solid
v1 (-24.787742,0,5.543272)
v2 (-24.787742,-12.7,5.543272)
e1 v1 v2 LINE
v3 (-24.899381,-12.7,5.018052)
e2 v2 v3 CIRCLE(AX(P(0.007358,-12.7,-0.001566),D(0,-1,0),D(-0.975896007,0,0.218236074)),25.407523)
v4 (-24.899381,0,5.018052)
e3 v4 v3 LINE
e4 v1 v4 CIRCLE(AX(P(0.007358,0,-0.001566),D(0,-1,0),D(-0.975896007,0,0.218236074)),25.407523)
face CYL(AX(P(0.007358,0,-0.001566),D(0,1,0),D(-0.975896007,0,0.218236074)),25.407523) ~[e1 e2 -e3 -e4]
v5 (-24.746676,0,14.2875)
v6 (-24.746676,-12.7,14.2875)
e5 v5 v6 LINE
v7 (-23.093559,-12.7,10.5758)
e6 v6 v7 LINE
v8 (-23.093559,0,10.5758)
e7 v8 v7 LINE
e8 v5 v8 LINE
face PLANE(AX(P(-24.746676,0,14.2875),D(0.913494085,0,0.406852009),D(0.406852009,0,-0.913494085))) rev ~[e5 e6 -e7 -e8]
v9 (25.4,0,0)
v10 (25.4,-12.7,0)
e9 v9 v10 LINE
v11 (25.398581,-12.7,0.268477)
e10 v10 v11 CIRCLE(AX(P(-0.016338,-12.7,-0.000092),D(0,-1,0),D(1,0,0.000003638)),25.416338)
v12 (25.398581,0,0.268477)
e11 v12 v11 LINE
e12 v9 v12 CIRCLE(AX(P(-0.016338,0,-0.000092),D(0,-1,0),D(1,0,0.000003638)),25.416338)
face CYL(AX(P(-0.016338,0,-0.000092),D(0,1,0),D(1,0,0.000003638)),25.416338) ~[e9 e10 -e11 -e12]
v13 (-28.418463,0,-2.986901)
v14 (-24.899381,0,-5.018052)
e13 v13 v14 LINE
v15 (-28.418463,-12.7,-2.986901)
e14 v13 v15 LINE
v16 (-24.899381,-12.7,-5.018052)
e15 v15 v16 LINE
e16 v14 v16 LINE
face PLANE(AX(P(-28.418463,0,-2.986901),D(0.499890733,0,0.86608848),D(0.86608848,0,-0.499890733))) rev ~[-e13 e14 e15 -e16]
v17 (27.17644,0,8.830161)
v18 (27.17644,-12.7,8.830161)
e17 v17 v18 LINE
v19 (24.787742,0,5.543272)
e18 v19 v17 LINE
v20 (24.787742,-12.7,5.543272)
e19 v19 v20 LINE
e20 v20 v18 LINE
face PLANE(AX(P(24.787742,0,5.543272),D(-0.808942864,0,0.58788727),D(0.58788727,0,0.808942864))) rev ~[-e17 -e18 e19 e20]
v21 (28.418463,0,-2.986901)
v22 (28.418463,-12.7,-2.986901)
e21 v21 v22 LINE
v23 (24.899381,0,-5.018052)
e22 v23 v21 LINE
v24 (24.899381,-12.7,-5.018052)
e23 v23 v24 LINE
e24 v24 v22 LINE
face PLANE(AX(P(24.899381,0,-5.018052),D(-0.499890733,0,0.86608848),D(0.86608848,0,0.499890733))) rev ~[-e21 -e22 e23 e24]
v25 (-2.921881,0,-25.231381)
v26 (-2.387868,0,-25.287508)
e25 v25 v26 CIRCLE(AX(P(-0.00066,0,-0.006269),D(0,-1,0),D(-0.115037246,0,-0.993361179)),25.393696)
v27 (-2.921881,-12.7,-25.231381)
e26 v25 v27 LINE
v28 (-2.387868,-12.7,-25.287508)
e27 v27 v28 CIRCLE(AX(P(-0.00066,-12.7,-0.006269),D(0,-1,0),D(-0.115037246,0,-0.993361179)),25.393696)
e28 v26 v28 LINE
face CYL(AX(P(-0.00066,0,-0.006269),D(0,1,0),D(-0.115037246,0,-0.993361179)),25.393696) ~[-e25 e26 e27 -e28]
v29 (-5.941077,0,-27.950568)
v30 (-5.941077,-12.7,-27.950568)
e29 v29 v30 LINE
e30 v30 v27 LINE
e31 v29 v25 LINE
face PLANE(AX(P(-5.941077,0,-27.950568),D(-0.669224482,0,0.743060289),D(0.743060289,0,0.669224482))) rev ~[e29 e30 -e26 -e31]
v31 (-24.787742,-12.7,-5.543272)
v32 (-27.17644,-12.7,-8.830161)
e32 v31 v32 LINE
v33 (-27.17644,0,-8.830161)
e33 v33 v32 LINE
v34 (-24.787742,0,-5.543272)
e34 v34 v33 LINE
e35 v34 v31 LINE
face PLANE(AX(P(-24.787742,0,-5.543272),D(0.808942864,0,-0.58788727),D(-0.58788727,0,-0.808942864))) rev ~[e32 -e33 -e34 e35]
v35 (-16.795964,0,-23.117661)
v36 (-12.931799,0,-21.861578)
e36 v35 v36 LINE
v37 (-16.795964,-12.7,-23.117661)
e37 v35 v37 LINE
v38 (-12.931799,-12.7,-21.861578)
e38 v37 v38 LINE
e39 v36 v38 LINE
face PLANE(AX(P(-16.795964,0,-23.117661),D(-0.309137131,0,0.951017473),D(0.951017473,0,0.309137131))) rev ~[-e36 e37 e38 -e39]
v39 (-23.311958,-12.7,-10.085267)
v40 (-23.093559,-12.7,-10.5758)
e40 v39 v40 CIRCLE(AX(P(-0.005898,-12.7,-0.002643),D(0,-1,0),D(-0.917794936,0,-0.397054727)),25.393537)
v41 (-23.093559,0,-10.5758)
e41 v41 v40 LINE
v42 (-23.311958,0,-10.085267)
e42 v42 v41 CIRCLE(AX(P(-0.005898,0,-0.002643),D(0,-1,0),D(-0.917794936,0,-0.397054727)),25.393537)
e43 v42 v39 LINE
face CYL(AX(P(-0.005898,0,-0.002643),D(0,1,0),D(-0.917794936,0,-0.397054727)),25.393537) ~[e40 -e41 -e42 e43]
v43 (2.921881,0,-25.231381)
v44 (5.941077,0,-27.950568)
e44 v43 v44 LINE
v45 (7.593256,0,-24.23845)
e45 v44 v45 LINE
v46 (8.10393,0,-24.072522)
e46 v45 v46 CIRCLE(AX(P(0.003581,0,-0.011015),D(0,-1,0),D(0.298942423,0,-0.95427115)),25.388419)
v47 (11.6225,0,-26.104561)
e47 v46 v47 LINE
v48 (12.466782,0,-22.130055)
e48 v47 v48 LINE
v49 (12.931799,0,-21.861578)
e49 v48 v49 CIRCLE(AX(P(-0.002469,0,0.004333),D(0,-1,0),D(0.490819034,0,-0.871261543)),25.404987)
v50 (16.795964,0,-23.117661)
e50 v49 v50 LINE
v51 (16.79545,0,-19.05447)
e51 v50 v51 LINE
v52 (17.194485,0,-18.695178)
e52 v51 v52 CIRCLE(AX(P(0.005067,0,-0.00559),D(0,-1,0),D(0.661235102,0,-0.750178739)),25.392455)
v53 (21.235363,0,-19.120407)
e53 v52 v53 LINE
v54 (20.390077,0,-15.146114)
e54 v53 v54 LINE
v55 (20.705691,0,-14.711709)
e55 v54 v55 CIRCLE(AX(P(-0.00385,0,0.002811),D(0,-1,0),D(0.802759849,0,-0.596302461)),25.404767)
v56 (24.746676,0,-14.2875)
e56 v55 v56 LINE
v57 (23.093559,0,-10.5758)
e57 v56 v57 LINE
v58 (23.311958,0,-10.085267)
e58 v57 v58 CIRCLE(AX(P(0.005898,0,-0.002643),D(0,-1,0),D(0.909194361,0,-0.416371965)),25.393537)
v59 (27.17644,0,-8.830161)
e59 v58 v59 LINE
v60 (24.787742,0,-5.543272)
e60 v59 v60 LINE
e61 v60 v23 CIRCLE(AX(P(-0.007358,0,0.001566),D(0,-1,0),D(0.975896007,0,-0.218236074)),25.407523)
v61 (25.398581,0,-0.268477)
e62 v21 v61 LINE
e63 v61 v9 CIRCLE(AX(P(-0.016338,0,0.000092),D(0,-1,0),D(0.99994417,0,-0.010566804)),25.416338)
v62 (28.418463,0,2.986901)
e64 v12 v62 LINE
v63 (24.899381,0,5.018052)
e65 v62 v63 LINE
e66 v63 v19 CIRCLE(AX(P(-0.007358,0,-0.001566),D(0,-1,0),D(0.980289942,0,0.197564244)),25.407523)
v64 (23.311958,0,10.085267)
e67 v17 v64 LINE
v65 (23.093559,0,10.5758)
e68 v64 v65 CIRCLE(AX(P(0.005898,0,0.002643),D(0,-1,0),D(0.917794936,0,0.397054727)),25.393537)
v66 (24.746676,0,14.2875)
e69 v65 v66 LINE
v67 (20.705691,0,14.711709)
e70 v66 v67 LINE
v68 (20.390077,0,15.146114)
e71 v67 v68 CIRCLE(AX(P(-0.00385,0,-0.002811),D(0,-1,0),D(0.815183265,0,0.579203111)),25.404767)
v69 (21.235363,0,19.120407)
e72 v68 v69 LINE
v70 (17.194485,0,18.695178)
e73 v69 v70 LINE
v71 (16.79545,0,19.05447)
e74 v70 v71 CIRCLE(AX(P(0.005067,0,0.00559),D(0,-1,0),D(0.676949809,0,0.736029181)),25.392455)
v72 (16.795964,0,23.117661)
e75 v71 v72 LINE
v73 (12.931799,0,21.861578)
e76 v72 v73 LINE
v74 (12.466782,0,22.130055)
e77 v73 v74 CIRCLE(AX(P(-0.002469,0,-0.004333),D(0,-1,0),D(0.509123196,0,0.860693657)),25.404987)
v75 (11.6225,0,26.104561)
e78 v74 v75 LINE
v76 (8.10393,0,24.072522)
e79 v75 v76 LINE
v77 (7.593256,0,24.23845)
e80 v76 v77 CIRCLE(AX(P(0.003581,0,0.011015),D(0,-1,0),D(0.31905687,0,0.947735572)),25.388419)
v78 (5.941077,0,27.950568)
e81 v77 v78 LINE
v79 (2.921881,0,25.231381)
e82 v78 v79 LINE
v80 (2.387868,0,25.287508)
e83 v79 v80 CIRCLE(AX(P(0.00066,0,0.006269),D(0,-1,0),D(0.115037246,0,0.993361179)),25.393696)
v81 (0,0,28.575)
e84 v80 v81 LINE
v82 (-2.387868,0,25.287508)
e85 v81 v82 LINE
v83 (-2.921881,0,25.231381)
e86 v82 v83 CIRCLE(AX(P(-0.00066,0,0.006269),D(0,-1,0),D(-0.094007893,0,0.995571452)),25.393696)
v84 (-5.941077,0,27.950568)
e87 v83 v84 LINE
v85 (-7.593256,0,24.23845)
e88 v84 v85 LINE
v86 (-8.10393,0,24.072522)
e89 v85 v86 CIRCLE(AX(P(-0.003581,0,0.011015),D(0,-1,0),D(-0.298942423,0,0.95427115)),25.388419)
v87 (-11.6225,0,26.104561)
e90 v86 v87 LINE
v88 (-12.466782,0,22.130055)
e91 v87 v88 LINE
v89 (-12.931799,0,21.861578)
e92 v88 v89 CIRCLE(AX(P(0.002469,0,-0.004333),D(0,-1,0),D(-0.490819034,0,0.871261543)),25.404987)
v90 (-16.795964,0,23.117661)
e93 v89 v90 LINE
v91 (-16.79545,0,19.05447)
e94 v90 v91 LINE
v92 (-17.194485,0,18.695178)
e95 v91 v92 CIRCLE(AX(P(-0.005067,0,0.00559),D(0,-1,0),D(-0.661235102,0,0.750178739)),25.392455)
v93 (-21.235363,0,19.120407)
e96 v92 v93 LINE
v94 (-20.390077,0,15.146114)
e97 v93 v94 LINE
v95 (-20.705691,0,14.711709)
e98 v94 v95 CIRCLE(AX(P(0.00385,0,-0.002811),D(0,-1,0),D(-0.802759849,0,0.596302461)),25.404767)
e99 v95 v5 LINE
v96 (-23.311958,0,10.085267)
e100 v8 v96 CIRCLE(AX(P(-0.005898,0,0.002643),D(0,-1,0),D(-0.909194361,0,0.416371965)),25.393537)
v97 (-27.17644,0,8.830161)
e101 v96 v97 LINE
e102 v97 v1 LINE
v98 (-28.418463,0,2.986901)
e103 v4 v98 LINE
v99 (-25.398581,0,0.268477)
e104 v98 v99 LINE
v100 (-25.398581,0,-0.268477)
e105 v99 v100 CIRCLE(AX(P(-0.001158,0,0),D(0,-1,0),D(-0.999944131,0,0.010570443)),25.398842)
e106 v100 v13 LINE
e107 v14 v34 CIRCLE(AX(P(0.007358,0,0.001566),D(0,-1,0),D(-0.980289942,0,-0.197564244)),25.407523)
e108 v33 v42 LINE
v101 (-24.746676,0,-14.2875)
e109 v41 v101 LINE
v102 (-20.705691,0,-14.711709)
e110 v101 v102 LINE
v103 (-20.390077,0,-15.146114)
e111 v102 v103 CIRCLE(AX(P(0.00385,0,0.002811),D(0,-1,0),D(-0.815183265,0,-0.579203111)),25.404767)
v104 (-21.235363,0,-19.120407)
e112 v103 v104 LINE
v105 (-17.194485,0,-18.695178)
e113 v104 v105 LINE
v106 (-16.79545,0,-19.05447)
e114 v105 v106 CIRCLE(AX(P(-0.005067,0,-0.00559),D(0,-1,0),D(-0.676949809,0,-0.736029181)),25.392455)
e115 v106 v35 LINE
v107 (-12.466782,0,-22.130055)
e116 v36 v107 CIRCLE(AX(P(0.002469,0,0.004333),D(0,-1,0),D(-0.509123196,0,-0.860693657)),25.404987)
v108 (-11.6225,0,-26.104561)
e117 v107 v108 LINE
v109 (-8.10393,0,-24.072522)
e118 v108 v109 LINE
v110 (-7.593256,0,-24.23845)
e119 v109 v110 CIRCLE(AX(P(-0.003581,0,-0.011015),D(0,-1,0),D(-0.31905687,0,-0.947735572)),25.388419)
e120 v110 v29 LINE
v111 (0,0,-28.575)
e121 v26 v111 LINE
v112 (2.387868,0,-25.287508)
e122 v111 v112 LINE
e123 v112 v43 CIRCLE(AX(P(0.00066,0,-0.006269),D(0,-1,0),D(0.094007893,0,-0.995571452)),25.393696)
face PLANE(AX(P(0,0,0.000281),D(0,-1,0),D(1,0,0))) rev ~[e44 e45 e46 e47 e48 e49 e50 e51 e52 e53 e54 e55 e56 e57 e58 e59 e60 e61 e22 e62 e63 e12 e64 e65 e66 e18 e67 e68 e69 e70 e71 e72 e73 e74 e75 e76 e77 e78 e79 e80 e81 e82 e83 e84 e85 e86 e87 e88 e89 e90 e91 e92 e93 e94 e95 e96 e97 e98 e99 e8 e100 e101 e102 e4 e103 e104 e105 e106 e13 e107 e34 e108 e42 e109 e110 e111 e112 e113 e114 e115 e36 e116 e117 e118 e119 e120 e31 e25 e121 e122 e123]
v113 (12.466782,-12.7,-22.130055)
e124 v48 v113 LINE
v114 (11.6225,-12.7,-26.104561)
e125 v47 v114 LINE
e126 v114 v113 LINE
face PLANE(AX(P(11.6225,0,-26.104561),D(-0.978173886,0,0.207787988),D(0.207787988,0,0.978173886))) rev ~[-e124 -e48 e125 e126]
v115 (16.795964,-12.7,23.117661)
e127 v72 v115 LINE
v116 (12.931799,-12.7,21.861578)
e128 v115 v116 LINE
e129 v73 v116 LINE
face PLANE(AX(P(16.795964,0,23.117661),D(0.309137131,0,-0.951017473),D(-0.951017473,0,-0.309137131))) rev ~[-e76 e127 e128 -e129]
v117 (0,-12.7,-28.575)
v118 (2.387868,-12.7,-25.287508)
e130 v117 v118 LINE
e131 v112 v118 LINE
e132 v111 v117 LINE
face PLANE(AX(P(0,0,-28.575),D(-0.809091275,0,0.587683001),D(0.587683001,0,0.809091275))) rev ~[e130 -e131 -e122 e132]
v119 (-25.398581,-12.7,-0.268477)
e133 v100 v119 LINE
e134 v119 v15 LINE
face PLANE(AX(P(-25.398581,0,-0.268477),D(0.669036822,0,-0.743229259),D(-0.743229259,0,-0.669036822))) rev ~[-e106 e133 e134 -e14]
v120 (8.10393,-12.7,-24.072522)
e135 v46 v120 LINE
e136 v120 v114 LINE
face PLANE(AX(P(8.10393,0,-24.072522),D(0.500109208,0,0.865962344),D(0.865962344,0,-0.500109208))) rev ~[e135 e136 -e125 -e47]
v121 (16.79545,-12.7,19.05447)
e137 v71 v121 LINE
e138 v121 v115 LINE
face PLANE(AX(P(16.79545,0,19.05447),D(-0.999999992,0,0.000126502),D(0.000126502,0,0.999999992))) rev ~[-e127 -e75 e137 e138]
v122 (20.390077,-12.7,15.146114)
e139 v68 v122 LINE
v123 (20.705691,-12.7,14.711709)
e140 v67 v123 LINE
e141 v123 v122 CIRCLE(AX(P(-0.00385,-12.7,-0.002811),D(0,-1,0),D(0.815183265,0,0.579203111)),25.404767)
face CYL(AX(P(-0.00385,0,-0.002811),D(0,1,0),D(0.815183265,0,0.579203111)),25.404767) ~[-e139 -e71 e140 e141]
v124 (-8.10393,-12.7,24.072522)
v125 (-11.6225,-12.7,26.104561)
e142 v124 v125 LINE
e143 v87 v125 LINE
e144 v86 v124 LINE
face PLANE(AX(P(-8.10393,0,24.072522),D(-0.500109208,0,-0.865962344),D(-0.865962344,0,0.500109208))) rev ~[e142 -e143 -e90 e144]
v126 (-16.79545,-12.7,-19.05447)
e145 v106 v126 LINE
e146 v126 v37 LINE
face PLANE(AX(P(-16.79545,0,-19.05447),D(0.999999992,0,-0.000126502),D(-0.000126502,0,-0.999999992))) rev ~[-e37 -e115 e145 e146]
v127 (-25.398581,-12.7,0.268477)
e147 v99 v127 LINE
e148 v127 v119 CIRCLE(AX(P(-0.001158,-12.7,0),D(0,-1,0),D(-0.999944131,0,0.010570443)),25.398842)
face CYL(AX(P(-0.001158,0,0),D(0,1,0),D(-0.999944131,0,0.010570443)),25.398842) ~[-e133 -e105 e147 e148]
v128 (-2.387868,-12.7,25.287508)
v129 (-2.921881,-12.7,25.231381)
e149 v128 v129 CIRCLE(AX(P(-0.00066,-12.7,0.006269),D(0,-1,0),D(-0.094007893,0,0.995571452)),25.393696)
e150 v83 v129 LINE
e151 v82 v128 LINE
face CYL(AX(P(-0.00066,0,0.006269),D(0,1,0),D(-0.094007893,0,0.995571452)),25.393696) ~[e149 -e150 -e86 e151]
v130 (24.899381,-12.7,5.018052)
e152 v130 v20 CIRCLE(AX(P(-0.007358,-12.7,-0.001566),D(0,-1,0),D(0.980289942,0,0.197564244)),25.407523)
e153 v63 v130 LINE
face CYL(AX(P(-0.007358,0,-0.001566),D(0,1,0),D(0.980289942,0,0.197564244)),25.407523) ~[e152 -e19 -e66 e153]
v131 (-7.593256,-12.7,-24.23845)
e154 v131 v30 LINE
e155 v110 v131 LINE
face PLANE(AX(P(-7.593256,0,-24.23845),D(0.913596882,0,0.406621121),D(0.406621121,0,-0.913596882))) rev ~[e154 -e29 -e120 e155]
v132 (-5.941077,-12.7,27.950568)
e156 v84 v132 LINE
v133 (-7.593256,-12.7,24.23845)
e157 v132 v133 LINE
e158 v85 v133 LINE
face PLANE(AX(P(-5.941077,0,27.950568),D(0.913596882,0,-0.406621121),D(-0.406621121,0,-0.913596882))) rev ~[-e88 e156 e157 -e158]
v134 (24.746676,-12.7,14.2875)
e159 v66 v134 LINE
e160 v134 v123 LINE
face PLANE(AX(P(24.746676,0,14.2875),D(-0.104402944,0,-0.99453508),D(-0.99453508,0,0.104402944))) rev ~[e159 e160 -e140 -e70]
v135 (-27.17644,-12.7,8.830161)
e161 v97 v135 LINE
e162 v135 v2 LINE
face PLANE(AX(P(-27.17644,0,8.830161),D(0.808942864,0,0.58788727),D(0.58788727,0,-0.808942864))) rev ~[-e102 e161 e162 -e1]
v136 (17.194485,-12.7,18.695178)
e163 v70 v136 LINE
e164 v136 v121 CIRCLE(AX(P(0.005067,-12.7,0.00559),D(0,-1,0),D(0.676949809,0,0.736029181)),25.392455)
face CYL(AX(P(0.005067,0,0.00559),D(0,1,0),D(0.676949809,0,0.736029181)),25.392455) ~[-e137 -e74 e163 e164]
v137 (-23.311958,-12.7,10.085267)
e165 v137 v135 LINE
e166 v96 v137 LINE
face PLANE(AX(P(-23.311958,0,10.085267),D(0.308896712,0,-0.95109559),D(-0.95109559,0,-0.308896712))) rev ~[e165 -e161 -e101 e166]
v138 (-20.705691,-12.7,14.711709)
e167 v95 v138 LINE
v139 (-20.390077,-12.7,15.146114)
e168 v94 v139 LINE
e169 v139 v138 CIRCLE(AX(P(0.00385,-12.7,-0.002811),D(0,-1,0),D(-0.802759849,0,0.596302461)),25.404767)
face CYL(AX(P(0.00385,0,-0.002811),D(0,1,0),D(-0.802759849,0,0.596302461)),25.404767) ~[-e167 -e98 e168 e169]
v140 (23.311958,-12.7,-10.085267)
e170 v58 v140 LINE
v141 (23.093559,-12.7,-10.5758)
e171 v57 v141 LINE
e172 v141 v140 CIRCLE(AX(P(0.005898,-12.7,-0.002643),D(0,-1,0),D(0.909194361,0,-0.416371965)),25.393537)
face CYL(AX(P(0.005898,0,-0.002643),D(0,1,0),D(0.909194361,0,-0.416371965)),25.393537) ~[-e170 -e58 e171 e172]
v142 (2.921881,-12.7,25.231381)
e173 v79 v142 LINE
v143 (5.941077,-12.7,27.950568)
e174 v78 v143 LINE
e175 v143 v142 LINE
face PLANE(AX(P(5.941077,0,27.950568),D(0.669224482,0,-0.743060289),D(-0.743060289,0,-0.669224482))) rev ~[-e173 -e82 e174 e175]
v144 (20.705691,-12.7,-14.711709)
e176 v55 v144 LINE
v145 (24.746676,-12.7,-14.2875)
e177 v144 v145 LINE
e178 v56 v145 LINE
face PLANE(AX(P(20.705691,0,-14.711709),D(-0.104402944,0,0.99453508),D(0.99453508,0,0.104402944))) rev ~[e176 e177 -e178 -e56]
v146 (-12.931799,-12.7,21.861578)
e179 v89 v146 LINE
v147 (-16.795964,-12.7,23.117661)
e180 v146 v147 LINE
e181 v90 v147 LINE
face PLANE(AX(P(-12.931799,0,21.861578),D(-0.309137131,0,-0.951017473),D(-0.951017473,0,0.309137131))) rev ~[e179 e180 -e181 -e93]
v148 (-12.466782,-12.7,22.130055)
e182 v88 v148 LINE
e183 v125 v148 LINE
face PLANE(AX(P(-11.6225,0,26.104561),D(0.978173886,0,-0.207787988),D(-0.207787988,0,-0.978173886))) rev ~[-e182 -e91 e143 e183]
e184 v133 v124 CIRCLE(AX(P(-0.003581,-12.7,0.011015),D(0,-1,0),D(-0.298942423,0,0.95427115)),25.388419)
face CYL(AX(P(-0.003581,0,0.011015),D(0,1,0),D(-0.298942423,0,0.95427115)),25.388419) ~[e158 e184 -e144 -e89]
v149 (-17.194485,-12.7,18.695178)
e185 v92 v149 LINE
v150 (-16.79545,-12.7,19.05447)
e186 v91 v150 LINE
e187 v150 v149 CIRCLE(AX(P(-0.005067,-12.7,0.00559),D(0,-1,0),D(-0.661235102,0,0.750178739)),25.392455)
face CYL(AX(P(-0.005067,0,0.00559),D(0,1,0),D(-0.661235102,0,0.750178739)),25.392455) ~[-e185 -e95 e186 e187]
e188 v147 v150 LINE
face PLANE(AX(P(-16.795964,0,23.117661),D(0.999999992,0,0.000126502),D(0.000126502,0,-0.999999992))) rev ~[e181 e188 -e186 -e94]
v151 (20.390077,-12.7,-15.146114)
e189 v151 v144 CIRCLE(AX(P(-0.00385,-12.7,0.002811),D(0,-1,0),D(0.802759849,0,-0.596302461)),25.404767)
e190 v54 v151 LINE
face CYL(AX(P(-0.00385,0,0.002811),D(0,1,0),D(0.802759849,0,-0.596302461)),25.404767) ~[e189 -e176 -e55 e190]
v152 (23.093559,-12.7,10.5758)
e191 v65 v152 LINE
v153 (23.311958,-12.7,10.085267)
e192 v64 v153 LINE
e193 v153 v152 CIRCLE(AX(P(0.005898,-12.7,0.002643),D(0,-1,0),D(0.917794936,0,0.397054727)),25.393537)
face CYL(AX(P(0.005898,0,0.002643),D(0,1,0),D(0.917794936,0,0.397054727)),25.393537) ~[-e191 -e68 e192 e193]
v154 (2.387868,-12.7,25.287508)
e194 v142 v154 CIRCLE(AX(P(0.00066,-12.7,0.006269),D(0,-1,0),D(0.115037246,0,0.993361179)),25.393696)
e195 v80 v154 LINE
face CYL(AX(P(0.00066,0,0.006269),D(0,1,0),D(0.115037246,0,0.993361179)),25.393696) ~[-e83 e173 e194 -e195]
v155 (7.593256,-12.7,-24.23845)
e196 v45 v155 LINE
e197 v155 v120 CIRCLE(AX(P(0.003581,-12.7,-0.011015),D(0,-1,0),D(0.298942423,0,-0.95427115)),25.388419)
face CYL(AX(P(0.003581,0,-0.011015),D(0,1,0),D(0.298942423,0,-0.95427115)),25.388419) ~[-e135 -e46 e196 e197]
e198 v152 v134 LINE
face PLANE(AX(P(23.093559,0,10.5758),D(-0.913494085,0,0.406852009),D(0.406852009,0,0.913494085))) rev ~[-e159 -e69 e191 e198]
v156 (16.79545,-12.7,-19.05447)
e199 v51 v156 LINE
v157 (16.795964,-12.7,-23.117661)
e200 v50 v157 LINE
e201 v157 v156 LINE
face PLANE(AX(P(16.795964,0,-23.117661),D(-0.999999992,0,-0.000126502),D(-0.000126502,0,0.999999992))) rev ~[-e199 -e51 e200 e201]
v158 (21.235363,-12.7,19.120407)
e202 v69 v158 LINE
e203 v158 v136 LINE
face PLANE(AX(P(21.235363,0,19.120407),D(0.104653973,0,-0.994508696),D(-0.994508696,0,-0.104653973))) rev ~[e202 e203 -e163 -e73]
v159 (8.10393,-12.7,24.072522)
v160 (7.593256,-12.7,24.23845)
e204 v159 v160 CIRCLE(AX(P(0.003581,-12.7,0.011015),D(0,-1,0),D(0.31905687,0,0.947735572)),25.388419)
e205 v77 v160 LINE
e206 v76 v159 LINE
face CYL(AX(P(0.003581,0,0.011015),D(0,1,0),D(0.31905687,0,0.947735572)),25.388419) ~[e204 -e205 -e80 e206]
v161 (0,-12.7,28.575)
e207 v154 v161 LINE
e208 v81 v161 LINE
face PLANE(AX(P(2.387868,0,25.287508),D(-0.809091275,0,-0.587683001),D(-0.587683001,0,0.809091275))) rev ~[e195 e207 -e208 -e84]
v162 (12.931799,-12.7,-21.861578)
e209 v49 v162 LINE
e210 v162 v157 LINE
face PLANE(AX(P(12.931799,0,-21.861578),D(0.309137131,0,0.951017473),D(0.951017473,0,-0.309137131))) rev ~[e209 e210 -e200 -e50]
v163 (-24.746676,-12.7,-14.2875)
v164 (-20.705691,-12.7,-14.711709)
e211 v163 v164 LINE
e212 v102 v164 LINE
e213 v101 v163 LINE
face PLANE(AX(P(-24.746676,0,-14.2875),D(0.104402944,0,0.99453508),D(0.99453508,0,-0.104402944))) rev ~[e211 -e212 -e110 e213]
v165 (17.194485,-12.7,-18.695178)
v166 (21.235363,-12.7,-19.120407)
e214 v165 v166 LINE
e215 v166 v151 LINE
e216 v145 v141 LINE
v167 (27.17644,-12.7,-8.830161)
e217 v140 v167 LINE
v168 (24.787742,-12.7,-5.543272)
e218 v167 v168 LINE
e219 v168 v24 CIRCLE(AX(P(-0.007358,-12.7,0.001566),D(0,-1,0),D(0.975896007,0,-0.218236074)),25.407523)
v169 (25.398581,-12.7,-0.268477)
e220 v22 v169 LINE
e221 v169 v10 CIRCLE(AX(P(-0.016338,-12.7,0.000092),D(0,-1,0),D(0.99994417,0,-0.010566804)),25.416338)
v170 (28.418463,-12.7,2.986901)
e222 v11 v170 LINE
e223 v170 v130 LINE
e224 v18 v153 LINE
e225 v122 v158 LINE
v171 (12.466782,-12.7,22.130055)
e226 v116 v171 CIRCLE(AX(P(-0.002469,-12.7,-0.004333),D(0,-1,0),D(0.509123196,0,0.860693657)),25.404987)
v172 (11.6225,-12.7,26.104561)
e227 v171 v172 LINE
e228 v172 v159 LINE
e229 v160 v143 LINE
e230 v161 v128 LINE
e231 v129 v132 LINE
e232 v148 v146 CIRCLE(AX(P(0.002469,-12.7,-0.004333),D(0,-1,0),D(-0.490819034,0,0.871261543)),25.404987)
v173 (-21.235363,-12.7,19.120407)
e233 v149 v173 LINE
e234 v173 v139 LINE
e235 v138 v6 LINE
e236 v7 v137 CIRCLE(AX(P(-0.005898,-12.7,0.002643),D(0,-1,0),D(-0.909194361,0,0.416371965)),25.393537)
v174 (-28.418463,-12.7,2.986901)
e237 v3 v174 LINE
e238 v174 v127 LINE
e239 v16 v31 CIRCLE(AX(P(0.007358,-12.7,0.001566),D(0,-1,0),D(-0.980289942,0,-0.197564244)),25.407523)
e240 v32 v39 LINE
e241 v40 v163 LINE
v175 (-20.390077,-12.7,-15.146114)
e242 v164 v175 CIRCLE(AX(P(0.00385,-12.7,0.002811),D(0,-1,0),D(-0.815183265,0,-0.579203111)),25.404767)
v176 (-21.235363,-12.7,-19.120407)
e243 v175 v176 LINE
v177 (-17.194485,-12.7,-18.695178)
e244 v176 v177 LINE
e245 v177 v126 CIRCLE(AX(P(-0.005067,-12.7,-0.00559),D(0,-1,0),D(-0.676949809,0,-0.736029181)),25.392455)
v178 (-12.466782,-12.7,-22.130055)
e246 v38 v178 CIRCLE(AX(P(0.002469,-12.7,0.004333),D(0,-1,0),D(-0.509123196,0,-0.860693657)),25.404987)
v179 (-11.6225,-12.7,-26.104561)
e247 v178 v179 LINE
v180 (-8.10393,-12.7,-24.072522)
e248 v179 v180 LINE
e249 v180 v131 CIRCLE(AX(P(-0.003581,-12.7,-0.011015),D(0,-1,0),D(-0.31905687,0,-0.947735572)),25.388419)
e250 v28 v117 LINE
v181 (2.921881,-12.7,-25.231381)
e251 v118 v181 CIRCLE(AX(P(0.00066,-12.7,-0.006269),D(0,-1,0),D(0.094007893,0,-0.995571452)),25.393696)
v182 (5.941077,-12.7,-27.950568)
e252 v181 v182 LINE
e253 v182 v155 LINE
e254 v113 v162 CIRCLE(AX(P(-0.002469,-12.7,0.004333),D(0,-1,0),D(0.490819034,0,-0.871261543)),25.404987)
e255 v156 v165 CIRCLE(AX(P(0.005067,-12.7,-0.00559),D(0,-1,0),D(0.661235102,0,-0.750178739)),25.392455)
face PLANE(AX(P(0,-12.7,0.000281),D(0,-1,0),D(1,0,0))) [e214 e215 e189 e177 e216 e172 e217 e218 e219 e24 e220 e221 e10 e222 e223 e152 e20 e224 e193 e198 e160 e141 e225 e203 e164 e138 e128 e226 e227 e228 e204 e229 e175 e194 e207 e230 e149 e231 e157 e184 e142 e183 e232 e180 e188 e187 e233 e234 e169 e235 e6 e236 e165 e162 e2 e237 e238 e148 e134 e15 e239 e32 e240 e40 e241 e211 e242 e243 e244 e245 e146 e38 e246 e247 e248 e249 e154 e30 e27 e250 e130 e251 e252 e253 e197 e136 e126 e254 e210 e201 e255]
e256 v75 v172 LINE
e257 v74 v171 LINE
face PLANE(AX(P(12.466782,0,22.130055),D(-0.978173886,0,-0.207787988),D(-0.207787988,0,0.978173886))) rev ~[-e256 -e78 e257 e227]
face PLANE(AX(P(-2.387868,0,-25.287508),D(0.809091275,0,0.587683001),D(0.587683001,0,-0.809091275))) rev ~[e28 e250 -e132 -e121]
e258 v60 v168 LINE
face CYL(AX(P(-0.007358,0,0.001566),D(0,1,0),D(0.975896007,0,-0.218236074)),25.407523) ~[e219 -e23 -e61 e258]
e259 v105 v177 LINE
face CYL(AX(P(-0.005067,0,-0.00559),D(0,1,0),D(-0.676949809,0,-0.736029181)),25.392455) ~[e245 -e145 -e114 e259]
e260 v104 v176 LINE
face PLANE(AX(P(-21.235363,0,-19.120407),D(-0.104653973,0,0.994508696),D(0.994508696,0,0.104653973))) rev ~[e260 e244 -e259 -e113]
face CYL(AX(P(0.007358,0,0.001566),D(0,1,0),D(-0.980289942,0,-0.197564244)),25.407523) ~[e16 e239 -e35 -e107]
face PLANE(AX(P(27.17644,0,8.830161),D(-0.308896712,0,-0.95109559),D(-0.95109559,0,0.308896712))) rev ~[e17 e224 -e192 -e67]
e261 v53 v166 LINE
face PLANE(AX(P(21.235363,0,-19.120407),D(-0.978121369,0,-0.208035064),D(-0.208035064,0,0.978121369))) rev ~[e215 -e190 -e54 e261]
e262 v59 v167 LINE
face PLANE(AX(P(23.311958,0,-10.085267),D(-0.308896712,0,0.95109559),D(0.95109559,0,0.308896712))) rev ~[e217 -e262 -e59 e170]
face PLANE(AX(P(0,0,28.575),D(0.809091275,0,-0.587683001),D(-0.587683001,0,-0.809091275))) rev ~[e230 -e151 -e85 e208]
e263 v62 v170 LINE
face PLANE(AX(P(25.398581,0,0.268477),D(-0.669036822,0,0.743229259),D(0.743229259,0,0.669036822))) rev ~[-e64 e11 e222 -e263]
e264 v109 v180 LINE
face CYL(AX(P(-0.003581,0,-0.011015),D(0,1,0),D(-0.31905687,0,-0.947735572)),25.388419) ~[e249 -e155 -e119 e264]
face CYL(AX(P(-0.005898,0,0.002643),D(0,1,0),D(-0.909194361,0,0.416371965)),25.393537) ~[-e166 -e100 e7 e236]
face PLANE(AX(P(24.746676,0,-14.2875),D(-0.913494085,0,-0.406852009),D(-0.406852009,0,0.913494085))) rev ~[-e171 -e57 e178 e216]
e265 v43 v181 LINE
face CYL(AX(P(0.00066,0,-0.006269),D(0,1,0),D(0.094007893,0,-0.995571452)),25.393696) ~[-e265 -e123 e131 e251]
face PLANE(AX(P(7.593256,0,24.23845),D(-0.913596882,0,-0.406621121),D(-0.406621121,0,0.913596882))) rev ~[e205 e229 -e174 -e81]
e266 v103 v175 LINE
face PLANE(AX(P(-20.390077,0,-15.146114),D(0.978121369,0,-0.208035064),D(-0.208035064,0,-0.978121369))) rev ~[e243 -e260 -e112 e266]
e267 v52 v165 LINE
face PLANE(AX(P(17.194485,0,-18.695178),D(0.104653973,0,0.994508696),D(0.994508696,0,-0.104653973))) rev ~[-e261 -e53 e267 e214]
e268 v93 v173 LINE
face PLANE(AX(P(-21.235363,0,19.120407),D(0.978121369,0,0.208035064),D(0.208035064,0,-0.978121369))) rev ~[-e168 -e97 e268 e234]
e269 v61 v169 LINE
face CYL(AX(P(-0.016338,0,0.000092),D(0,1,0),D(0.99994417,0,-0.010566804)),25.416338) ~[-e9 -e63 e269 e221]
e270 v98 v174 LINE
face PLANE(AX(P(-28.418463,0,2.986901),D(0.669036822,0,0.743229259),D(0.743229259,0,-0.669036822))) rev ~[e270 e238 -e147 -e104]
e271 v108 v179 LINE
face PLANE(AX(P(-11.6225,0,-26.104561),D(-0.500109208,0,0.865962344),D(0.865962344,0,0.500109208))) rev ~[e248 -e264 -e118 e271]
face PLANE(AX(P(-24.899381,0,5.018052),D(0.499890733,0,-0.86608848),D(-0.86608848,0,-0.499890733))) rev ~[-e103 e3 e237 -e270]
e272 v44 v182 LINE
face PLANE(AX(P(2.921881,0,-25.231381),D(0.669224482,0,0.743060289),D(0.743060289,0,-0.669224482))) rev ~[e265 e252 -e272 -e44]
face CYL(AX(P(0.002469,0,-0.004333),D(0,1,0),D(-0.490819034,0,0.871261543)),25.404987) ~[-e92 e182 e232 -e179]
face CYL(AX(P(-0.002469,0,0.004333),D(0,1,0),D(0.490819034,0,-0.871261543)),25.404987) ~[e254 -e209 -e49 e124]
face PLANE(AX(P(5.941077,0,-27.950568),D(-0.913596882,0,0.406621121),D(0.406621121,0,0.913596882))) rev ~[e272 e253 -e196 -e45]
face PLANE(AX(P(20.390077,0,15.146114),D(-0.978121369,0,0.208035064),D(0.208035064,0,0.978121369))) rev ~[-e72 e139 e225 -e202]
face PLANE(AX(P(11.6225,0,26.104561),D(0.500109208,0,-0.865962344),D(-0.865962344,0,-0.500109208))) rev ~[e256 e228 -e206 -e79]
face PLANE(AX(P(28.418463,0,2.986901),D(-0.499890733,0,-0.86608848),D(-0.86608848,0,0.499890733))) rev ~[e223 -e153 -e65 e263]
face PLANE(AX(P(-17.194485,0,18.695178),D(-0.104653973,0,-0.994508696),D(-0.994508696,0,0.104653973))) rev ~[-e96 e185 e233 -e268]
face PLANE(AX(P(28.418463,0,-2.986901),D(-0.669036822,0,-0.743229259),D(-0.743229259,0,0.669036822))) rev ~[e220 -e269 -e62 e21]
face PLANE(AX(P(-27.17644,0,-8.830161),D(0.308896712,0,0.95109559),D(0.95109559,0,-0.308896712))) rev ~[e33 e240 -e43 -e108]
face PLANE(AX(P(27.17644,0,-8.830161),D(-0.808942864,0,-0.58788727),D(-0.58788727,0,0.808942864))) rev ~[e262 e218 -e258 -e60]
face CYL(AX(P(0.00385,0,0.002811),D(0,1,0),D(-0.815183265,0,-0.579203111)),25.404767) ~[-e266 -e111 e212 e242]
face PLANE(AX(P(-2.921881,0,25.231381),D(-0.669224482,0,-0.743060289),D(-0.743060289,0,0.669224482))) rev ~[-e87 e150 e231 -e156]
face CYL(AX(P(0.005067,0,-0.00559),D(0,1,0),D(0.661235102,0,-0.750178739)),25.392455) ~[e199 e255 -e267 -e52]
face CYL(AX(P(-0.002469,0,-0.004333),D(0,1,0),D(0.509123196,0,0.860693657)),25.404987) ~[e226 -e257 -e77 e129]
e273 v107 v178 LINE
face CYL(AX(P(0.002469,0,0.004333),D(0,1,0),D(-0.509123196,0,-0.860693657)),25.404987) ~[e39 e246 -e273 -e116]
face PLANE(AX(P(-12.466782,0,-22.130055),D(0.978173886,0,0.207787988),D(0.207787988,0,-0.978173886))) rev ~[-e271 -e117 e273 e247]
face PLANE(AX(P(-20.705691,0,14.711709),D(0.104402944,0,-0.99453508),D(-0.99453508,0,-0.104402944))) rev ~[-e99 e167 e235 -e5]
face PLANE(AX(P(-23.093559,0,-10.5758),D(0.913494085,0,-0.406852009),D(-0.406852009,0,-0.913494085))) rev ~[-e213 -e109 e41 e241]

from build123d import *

# Parameters (mm, degrees)
F1_DEPTH = 12.7


with BuildPart() as f1:
    # F0 (on Front) → F1 (new body)
    with BuildSketch(Plane.XZ):
        with BuildLine():
            ThreePointArc((25.398581, -0.268477), (25.399645, -0.134241), (25.4, 0))
            ThreePointArc((25.4, 0), (25.399645, 0.134241), (25.398581, 0.268477))
            ThreePointArc((25.398581, 0.268477), (25.260856, 2.655023), (24.899381, 5.018052))
            ThreePointArc((24.899381, 5.018052), (24.844949, 5.280957), (24.787742, 5.543272))
            ThreePointArc((24.787742, 5.543272), (24.156836, 7.849032), (23.311958, 10.085267))
            ThreePointArc((23.311958, 10.085267), (23.204055, 10.331111), (23.093559, 10.5758))
            ThreePointArc((23.093559, 10.5758), (21.997045, 12.7), (20.705691, 14.711709))
            ThreePointArc((20.705691, 14.711709), (20.549032, 14.929745), (20.390077, 15.146114))
            ThreePointArc((20.390077, 15.146114), (18.875879, 16.995917), (17.194485, 18.695178))
            ThreePointArc((17.194485, 18.695178), (16.995917, 18.875879), (16.79545, 19.05447))
            ThreePointArc((16.79545, 19.05447), (14.929745, 20.549032), (12.931799, 21.861578))
            ThreePointArc((12.931799, 21.861578), (12.7, 21.997045), (12.466782, 22.130055))
            ThreePointArc((12.466782, 22.130055), (10.331111, 23.204055), (8.10393, 24.072522))
            ThreePointArc((8.10393, 24.072522), (7.849032, 24.156836), (7.593256, 24.23845))
            ThreePointArc((7.593256, 24.23845), (5.280957, 24.844949), (2.921881, 25.231381))
            ThreePointArc((2.921881, 25.231381), (2.655023, 25.260856), (2.387868, 25.287508))
            ThreePointArc((2.387868, 25.287508), (1.195258, 25.371862), (0, 25.4))
            ThreePointArc((0, 25.4), (-1.195258, 25.371862), (-2.387868, 25.287508))
            ThreePointArc((-2.387868, 25.287508), (-2.655023, 25.260856), (-2.921881, 25.231381))
            ThreePointArc((-2.921881, 25.231381), (-5.280957, 24.844949), (-7.593256, 24.23845))
            ThreePointArc((-7.593256, 24.23845), (-7.849032, 24.156836), (-8.10393, 24.072522))
            ThreePointArc((-8.10393, 24.072522), (-10.331111, 23.204055), (-12.466782, 22.130055))
            ThreePointArc((-12.466782, 22.130055), (-12.7, 21.997045), (-12.931799, 21.861578))
            ThreePointArc((-12.931799, 21.861578), (-14.929745, 20.549032), (-16.79545, 19.05447))
            ThreePointArc((-16.79545, 19.05447), (-16.995917, 18.875879), (-17.194485, 18.695178))
            ThreePointArc((-17.194485, 18.695178), (-18.875879, 16.995917), (-20.390077, 15.146114))
            ThreePointArc((-20.390077, 15.146114), (-20.549032, 14.929745), (-20.705691, 14.711709))
            ThreePointArc((-20.705691, 14.711709), (-21.997045, 12.7), (-23.093559, 10.5758))
            ThreePointArc((-23.093559, 10.5758), (-23.204055, 10.331111), (-23.311958, 10.085267))
            ThreePointArc((-23.311958, 10.085267), (-24.156836, 7.849032), (-24.787742, 5.543272))
            ThreePointArc((-24.787742, 5.543272), (-24.844949, 5.280957), (-24.899381, 5.018052))
            ThreePointArc((-24.899381, 5.018052), (-25.260856, 2.655023), (-25.398581, 0.268477))
            ThreePointArc((-25.398581, 0.268477), (-25.4, 0), (-25.398581, -0.268477))
            ThreePointArc((-25.398581, -0.268477), (-25.260856, -2.655023), (-24.899381, -5.018052))
            ThreePointArc((-24.899381, -5.018052), (-24.844949, -5.280957), (-24.787742, -5.543272))
            ThreePointArc((-24.787742, -5.543272), (-24.156836, -7.849032), (-23.311958, -10.085267))
            ThreePointArc((-23.311958, -10.085267), (-23.204055, -10.331111), (-23.093559, -10.5758))
            ThreePointArc((-23.093559, -10.5758), (-21.997045, -12.7), (-20.705691, -14.711709))
            ThreePointArc((-20.705691, -14.711709), (-20.549032, -14.929745), (-20.390077, -15.146114))
            ThreePointArc((-20.390077, -15.146114), (-18.875879, -16.995917), (-17.194485, -18.695178))
            ThreePointArc((-17.194485, -18.695178), (-16.995917, -18.875879), (-16.79545, -19.05447))
            ThreePointArc((-16.79545, -19.05447), (-14.929745, -20.549032), (-12.931799, -21.861578))
            ThreePointArc((-12.931799, -21.861578), (-12.7, -21.997045), (-12.466782, -22.130055))
            ThreePointArc((-12.466782, -22.130055), (-10.331111, -23.204055), (-8.10393, -24.072522))
            ThreePointArc((-8.10393, -24.072522), (-7.849032, -24.156836), (-7.593256, -24.23845))
            ThreePointArc((-7.593256, -24.23845), (-5.280957, -24.844949), (-2.921881, -25.231381))
            ThreePointArc((-2.921881, -25.231381), (-2.655023, -25.260856), (-2.387868, -25.287508))
            ThreePointArc((-2.387868, -25.287508), (0, -25.4), (2.387868, -25.287508))
            ThreePointArc((2.387868, -25.287508), (2.655023, -25.260856), (2.921881, -25.231381))
            ThreePointArc((2.921881, -25.231381), (5.280957, -24.844949), (7.593256, -24.23845))
            ThreePointArc((7.593256, -24.23845), (7.849032, -24.156836), (8.10393, -24.072522))
            ThreePointArc((8.10393, -24.072522), (10.331111, -23.204055), (12.466782, -22.130055))
            ThreePointArc((12.466782, -22.130055), (12.7, -21.997045), (12.931799, -21.861578))
            ThreePointArc((12.931799, -21.861578), (14.929745, -20.549032), (16.79545, -19.05447))
            ThreePointArc((16.79545, -19.05447), (16.995917, -18.875879), (17.194485, -18.695178))
            ThreePointArc((17.194485, -18.695178), (18.875879, -16.995917), (20.390077, -15.146114))
            ThreePointArc((20.390077, -15.146114), (20.549032, -14.929745), (20.705691, -14.711709))
            ThreePointArc((20.705691, -14.711709), (21.997045, -12.7), (23.093559, -10.5758))
            ThreePointArc((23.093559, -10.5758), (23.204055, -10.331111), (23.311958, -10.085267))
            ThreePointArc((23.311958, -10.085267), (24.156836, -7.849032), (24.787742, -5.543272))
            ThreePointArc((24.787742, -5.543272), (24.844949, -5.280957), (24.899381, -5.018052))
            ThreePointArc((24.899381, -5.018052), (25.260856, -2.655023), (25.398581, -0.268477))
        make_face()
        with BuildLine():
            ThreePointArc((17.194485, 18.695178), (18.875879, 16.995917), (20.390077, 15.146114))
            Line((20.390077, 15.146114), (21.235363, 19.120407))
            Line((21.235363, 19.120407), (17.194485, 18.695178))
        make_face()
        with BuildLine():
            ThreePointArc((12.931799, 21.861578), (14.929745, 20.549032), (16.79545, 19.05447))
            Line((16.79545, 19.05447), (16.795964, 23.117661))
            Line((16.795964, 23.117661), (12.931799, 21.861578))
        make_face()
        with BuildLine():
            ThreePointArc((8.10393, 24.072522), (10.331111, 23.204055), (12.466782, 22.130055))
            Line((12.466782, 22.130055), (11.6225, 26.104561))
            Line((11.6225, 26.104561), (8.10393, 24.072522))
        make_face()
        with BuildLine():
            ThreePointArc((2.921881, 25.231381), (5.280957, 24.844949), (7.593256, 24.23845))
            Line((7.593256, 24.23845), (5.941077, 27.950568))
            Line((5.941077, 27.950568), (2.921881, 25.231381))
        make_face()
        with BuildLine():
            ThreePointArc((0, 25.4), (1.195258, 25.371862), (2.387868, 25.287508))
            Line((2.387868, 25.287508), (0, 28.575))
            Line((0, 28.575), (0, 25.4))
        make_face()
        with BuildLine():
            ThreePointArc((20.705691, 14.711709), (21.997045, 12.7), (23.093559, 10.5758))
            Line((23.093559, 10.5758), (24.746676, 14.2875))
            Line((24.746676, 14.2875), (20.705691, 14.711709))
        make_face()
        with BuildLine():
            ThreePointArc((23.311958, 10.085267), (24.156836, 7.849032), (24.787742, 5.543272))
            Line((24.787742, 5.543272), (27.17644, 8.830161))
            Line((27.17644, 8.830161), (23.311958, 10.085267))
        make_face()
        with BuildLine():
            ThreePointArc((24.899381, 5.018052), (25.260856, 2.655023), (25.398581, 0.268477))
            Line((25.398581, 0.268477), (28.418463, 2.986901))
            Line((28.418463, 2.986901), (24.899381, 5.018052))
        make_face()
        with BuildLine():
            Line((28.418463, -2.986901), (25.398581, -0.268477))
            ThreePointArc((25.398581, -0.268477), (25.260856, -2.655023), (24.899381, -5.018052))
            Line((24.899381, -5.018052), (28.418463, -2.986901))
        make_face()
        with BuildLine():
            Line((27.17644, -8.830161), (24.787742, -5.543272))
            ThreePointArc((24.787742, -5.543272), (24.156836, -7.849032), (23.311958, -10.085267))
            Line((23.311958, -10.085267), (27.17644, -8.830161))
        make_face()
        with BuildLine():
            Line((24.746676, -14.2875), (23.093559, -10.5758))
            ThreePointArc((23.093559, -10.5758), (21.997045, -12.7), (20.705691, -14.711709))
            Line((20.705691, -14.711709), (24.746676, -14.2875))
        make_face()
        with BuildLine():
            Line((21.235363, -19.120407), (20.390077, -15.146114))
            ThreePointArc((20.390077, -15.146114), (18.875879, -16.995917), (17.194485, -18.695178))
            Line((17.194485, -18.695178), (21.235363, -19.120407))
        make_face()
        with BuildLine():
            Line((16.795964, -23.117661), (16.79545, -19.05447))
            ThreePointArc((16.79545, -19.05447), (14.929745, -20.549032), (12.931799, -21.861578))
            Line((12.931799, -21.861578), (16.795964, -23.117661))
        make_face()
        with BuildLine():
            Line((11.6225, -26.104561), (12.466782, -22.130055))
            ThreePointArc((12.466782, -22.130055), (10.331111, -23.204055), (8.10393, -24.072522))
            Line((8.10393, -24.072522), (11.6225, -26.104561))
        make_face()
        with BuildLine():
            Line((5.941077, -27.950568), (7.593256, -24.23845))
            ThreePointArc((7.593256, -24.23845), (5.280957, -24.844949), (2.921881, -25.231381))
            Line((2.921881, -25.231381), (5.941077, -27.950568))
        make_face()
        with BuildLine():
            Line((0, -28.575), (2.387868, -25.287508))
            ThreePointArc((2.387868, -25.287508), (0, -25.4), (-2.387868, -25.287508))
            Line((-2.387868, -25.287508), (0, -28.575))
        make_face()
        with BuildLine():
            Line((-5.941077, -27.950568), (-2.921881, -25.231381))
            ThreePointArc((-2.921881, -25.231381), (-5.280957, -24.844949), (-7.593256, -24.23845))
            Line((-7.593256, -24.23845), (-5.941077, -27.950568))
        make_face()
        with BuildLine():
            Line((-11.6225, -26.104561), (-8.10393, -24.072522))
            ThreePointArc((-8.10393, -24.072522), (-10.331111, -23.204055), (-12.466782, -22.130055))
            Line((-12.466782, -22.130055), (-11.6225, -26.104561))
        make_face()
        with BuildLine():
            Line((-24.746676, -14.2875), (-20.705691, -14.711709))
            ThreePointArc((-20.705691, -14.711709), (-21.997045, -12.7), (-23.093559, -10.5758))
            Line((-23.093559, -10.5758), (-24.746676, -14.2875))
        make_face()
        with BuildLine():
            Line((-27.17644, -8.830161), (-23.311958, -10.085267))
            ThreePointArc((-23.311958, -10.085267), (-24.156836, -7.849032), (-24.787742, -5.543272))
            Line((-24.787742, -5.543272), (-27.17644, -8.830161))
        make_face()
        with BuildLine():
            Line((-28.418463, -2.986901), (-24.899381, -5.018052))
            ThreePointArc((-24.899381, -5.018052), (-25.260856, -2.655023), (-25.398581, -0.268477))
            Line((-25.398581, -0.268477), (-28.418463, -2.986901))
        make_face()
        with BuildLine():
            ThreePointArc((-25.398581, 0.268477), (-25.260856, 2.655023), (-24.899381, 5.018052))
            Line((-24.899381, 5.018052), (-28.418463, 2.986901))
            Line((-28.418463, 2.986901), (-25.398581, 0.268477))
        make_face()
        with BuildLine():
            ThreePointArc((-24.787742, 5.543272), (-24.156836, 7.849032), (-23.311958, 10.085267))
            Line((-23.311958, 10.085267), (-27.17644, 8.830161))
            Line((-27.17644, 8.830161), (-24.787742, 5.543272))
        make_face()
        with BuildLine():
            ThreePointArc((-23.093559, 10.5758), (-21.997045, 12.7), (-20.705691, 14.711709))
            Line((-20.705691, 14.711709), (-24.746676, 14.2875))
            Line((-24.746676, 14.2875), (-23.093559, 10.5758))
        make_face()
        with BuildLine():
            ThreePointArc((-20.390077, 15.146114), (-18.875879, 16.995917), (-17.194485, 18.695178))
            Line((-17.194485, 18.695178), (-21.235363, 19.120407))
            Line((-21.235363, 19.120407), (-20.390077, 15.146114))
        make_face()
        with BuildLine():
            ThreePointArc((-16.79545, 19.05447), (-14.929745, 20.549032), (-12.931799, 21.861578))
            Line((-12.931799, 21.861578), (-16.795964, 23.117661))
            Line((-16.795964, 23.117661), (-16.79545, 19.05447))
        make_face()
        with BuildLine():
            ThreePointArc((-12.466782, 22.130055), (-10.331111, 23.204055), (-8.10393, 24.072522))
            Line((-8.10393, 24.072522), (-11.6225, 26.104561))
            Line((-11.6225, 26.104561), (-12.466782, 22.130055))
        make_face()
        with BuildLine():
            ThreePointArc((-7.593256, 24.23845), (-5.280957, 24.844949), (-2.921881, 25.231381))
            Line((-2.921881, 25.231381), (-5.941077, 27.950568))
            Line((-5.941077, 27.950568), (-7.593256, 24.23845))
        make_face()
        with BuildLine():
            ThreePointArc((-2.387868, 25.287508), (-1.195258, 25.371862), (0, 25.4))
            Line((0, 25.4), (0, 28.575))
            Line((0, 28.575), (-2.387868, 25.287508))
        make_face()
        with BuildLine():
            Line((-16.795964, -23.117661), (-12.931799, -21.861578))
            ThreePointArc((-12.931799, -21.861578), (-14.929745, -20.549032), (-16.79545, -19.05447))
            Line((-16.79545, -19.05447), (-16.795964, -23.117661))
        make_face()
        with BuildLine():
            Line((-21.235363, -19.120407), (-17.194485, -18.695178))
            ThreePointArc((-17.194485, -18.695178), (-18.875879, -16.995917), (-20.390077, -15.146114))
            Line((-20.390077, -15.146114), (-21.235363, -19.120407))
        make_face()
    extrude(amount=F1_DEPTH)


solid = f1.part
